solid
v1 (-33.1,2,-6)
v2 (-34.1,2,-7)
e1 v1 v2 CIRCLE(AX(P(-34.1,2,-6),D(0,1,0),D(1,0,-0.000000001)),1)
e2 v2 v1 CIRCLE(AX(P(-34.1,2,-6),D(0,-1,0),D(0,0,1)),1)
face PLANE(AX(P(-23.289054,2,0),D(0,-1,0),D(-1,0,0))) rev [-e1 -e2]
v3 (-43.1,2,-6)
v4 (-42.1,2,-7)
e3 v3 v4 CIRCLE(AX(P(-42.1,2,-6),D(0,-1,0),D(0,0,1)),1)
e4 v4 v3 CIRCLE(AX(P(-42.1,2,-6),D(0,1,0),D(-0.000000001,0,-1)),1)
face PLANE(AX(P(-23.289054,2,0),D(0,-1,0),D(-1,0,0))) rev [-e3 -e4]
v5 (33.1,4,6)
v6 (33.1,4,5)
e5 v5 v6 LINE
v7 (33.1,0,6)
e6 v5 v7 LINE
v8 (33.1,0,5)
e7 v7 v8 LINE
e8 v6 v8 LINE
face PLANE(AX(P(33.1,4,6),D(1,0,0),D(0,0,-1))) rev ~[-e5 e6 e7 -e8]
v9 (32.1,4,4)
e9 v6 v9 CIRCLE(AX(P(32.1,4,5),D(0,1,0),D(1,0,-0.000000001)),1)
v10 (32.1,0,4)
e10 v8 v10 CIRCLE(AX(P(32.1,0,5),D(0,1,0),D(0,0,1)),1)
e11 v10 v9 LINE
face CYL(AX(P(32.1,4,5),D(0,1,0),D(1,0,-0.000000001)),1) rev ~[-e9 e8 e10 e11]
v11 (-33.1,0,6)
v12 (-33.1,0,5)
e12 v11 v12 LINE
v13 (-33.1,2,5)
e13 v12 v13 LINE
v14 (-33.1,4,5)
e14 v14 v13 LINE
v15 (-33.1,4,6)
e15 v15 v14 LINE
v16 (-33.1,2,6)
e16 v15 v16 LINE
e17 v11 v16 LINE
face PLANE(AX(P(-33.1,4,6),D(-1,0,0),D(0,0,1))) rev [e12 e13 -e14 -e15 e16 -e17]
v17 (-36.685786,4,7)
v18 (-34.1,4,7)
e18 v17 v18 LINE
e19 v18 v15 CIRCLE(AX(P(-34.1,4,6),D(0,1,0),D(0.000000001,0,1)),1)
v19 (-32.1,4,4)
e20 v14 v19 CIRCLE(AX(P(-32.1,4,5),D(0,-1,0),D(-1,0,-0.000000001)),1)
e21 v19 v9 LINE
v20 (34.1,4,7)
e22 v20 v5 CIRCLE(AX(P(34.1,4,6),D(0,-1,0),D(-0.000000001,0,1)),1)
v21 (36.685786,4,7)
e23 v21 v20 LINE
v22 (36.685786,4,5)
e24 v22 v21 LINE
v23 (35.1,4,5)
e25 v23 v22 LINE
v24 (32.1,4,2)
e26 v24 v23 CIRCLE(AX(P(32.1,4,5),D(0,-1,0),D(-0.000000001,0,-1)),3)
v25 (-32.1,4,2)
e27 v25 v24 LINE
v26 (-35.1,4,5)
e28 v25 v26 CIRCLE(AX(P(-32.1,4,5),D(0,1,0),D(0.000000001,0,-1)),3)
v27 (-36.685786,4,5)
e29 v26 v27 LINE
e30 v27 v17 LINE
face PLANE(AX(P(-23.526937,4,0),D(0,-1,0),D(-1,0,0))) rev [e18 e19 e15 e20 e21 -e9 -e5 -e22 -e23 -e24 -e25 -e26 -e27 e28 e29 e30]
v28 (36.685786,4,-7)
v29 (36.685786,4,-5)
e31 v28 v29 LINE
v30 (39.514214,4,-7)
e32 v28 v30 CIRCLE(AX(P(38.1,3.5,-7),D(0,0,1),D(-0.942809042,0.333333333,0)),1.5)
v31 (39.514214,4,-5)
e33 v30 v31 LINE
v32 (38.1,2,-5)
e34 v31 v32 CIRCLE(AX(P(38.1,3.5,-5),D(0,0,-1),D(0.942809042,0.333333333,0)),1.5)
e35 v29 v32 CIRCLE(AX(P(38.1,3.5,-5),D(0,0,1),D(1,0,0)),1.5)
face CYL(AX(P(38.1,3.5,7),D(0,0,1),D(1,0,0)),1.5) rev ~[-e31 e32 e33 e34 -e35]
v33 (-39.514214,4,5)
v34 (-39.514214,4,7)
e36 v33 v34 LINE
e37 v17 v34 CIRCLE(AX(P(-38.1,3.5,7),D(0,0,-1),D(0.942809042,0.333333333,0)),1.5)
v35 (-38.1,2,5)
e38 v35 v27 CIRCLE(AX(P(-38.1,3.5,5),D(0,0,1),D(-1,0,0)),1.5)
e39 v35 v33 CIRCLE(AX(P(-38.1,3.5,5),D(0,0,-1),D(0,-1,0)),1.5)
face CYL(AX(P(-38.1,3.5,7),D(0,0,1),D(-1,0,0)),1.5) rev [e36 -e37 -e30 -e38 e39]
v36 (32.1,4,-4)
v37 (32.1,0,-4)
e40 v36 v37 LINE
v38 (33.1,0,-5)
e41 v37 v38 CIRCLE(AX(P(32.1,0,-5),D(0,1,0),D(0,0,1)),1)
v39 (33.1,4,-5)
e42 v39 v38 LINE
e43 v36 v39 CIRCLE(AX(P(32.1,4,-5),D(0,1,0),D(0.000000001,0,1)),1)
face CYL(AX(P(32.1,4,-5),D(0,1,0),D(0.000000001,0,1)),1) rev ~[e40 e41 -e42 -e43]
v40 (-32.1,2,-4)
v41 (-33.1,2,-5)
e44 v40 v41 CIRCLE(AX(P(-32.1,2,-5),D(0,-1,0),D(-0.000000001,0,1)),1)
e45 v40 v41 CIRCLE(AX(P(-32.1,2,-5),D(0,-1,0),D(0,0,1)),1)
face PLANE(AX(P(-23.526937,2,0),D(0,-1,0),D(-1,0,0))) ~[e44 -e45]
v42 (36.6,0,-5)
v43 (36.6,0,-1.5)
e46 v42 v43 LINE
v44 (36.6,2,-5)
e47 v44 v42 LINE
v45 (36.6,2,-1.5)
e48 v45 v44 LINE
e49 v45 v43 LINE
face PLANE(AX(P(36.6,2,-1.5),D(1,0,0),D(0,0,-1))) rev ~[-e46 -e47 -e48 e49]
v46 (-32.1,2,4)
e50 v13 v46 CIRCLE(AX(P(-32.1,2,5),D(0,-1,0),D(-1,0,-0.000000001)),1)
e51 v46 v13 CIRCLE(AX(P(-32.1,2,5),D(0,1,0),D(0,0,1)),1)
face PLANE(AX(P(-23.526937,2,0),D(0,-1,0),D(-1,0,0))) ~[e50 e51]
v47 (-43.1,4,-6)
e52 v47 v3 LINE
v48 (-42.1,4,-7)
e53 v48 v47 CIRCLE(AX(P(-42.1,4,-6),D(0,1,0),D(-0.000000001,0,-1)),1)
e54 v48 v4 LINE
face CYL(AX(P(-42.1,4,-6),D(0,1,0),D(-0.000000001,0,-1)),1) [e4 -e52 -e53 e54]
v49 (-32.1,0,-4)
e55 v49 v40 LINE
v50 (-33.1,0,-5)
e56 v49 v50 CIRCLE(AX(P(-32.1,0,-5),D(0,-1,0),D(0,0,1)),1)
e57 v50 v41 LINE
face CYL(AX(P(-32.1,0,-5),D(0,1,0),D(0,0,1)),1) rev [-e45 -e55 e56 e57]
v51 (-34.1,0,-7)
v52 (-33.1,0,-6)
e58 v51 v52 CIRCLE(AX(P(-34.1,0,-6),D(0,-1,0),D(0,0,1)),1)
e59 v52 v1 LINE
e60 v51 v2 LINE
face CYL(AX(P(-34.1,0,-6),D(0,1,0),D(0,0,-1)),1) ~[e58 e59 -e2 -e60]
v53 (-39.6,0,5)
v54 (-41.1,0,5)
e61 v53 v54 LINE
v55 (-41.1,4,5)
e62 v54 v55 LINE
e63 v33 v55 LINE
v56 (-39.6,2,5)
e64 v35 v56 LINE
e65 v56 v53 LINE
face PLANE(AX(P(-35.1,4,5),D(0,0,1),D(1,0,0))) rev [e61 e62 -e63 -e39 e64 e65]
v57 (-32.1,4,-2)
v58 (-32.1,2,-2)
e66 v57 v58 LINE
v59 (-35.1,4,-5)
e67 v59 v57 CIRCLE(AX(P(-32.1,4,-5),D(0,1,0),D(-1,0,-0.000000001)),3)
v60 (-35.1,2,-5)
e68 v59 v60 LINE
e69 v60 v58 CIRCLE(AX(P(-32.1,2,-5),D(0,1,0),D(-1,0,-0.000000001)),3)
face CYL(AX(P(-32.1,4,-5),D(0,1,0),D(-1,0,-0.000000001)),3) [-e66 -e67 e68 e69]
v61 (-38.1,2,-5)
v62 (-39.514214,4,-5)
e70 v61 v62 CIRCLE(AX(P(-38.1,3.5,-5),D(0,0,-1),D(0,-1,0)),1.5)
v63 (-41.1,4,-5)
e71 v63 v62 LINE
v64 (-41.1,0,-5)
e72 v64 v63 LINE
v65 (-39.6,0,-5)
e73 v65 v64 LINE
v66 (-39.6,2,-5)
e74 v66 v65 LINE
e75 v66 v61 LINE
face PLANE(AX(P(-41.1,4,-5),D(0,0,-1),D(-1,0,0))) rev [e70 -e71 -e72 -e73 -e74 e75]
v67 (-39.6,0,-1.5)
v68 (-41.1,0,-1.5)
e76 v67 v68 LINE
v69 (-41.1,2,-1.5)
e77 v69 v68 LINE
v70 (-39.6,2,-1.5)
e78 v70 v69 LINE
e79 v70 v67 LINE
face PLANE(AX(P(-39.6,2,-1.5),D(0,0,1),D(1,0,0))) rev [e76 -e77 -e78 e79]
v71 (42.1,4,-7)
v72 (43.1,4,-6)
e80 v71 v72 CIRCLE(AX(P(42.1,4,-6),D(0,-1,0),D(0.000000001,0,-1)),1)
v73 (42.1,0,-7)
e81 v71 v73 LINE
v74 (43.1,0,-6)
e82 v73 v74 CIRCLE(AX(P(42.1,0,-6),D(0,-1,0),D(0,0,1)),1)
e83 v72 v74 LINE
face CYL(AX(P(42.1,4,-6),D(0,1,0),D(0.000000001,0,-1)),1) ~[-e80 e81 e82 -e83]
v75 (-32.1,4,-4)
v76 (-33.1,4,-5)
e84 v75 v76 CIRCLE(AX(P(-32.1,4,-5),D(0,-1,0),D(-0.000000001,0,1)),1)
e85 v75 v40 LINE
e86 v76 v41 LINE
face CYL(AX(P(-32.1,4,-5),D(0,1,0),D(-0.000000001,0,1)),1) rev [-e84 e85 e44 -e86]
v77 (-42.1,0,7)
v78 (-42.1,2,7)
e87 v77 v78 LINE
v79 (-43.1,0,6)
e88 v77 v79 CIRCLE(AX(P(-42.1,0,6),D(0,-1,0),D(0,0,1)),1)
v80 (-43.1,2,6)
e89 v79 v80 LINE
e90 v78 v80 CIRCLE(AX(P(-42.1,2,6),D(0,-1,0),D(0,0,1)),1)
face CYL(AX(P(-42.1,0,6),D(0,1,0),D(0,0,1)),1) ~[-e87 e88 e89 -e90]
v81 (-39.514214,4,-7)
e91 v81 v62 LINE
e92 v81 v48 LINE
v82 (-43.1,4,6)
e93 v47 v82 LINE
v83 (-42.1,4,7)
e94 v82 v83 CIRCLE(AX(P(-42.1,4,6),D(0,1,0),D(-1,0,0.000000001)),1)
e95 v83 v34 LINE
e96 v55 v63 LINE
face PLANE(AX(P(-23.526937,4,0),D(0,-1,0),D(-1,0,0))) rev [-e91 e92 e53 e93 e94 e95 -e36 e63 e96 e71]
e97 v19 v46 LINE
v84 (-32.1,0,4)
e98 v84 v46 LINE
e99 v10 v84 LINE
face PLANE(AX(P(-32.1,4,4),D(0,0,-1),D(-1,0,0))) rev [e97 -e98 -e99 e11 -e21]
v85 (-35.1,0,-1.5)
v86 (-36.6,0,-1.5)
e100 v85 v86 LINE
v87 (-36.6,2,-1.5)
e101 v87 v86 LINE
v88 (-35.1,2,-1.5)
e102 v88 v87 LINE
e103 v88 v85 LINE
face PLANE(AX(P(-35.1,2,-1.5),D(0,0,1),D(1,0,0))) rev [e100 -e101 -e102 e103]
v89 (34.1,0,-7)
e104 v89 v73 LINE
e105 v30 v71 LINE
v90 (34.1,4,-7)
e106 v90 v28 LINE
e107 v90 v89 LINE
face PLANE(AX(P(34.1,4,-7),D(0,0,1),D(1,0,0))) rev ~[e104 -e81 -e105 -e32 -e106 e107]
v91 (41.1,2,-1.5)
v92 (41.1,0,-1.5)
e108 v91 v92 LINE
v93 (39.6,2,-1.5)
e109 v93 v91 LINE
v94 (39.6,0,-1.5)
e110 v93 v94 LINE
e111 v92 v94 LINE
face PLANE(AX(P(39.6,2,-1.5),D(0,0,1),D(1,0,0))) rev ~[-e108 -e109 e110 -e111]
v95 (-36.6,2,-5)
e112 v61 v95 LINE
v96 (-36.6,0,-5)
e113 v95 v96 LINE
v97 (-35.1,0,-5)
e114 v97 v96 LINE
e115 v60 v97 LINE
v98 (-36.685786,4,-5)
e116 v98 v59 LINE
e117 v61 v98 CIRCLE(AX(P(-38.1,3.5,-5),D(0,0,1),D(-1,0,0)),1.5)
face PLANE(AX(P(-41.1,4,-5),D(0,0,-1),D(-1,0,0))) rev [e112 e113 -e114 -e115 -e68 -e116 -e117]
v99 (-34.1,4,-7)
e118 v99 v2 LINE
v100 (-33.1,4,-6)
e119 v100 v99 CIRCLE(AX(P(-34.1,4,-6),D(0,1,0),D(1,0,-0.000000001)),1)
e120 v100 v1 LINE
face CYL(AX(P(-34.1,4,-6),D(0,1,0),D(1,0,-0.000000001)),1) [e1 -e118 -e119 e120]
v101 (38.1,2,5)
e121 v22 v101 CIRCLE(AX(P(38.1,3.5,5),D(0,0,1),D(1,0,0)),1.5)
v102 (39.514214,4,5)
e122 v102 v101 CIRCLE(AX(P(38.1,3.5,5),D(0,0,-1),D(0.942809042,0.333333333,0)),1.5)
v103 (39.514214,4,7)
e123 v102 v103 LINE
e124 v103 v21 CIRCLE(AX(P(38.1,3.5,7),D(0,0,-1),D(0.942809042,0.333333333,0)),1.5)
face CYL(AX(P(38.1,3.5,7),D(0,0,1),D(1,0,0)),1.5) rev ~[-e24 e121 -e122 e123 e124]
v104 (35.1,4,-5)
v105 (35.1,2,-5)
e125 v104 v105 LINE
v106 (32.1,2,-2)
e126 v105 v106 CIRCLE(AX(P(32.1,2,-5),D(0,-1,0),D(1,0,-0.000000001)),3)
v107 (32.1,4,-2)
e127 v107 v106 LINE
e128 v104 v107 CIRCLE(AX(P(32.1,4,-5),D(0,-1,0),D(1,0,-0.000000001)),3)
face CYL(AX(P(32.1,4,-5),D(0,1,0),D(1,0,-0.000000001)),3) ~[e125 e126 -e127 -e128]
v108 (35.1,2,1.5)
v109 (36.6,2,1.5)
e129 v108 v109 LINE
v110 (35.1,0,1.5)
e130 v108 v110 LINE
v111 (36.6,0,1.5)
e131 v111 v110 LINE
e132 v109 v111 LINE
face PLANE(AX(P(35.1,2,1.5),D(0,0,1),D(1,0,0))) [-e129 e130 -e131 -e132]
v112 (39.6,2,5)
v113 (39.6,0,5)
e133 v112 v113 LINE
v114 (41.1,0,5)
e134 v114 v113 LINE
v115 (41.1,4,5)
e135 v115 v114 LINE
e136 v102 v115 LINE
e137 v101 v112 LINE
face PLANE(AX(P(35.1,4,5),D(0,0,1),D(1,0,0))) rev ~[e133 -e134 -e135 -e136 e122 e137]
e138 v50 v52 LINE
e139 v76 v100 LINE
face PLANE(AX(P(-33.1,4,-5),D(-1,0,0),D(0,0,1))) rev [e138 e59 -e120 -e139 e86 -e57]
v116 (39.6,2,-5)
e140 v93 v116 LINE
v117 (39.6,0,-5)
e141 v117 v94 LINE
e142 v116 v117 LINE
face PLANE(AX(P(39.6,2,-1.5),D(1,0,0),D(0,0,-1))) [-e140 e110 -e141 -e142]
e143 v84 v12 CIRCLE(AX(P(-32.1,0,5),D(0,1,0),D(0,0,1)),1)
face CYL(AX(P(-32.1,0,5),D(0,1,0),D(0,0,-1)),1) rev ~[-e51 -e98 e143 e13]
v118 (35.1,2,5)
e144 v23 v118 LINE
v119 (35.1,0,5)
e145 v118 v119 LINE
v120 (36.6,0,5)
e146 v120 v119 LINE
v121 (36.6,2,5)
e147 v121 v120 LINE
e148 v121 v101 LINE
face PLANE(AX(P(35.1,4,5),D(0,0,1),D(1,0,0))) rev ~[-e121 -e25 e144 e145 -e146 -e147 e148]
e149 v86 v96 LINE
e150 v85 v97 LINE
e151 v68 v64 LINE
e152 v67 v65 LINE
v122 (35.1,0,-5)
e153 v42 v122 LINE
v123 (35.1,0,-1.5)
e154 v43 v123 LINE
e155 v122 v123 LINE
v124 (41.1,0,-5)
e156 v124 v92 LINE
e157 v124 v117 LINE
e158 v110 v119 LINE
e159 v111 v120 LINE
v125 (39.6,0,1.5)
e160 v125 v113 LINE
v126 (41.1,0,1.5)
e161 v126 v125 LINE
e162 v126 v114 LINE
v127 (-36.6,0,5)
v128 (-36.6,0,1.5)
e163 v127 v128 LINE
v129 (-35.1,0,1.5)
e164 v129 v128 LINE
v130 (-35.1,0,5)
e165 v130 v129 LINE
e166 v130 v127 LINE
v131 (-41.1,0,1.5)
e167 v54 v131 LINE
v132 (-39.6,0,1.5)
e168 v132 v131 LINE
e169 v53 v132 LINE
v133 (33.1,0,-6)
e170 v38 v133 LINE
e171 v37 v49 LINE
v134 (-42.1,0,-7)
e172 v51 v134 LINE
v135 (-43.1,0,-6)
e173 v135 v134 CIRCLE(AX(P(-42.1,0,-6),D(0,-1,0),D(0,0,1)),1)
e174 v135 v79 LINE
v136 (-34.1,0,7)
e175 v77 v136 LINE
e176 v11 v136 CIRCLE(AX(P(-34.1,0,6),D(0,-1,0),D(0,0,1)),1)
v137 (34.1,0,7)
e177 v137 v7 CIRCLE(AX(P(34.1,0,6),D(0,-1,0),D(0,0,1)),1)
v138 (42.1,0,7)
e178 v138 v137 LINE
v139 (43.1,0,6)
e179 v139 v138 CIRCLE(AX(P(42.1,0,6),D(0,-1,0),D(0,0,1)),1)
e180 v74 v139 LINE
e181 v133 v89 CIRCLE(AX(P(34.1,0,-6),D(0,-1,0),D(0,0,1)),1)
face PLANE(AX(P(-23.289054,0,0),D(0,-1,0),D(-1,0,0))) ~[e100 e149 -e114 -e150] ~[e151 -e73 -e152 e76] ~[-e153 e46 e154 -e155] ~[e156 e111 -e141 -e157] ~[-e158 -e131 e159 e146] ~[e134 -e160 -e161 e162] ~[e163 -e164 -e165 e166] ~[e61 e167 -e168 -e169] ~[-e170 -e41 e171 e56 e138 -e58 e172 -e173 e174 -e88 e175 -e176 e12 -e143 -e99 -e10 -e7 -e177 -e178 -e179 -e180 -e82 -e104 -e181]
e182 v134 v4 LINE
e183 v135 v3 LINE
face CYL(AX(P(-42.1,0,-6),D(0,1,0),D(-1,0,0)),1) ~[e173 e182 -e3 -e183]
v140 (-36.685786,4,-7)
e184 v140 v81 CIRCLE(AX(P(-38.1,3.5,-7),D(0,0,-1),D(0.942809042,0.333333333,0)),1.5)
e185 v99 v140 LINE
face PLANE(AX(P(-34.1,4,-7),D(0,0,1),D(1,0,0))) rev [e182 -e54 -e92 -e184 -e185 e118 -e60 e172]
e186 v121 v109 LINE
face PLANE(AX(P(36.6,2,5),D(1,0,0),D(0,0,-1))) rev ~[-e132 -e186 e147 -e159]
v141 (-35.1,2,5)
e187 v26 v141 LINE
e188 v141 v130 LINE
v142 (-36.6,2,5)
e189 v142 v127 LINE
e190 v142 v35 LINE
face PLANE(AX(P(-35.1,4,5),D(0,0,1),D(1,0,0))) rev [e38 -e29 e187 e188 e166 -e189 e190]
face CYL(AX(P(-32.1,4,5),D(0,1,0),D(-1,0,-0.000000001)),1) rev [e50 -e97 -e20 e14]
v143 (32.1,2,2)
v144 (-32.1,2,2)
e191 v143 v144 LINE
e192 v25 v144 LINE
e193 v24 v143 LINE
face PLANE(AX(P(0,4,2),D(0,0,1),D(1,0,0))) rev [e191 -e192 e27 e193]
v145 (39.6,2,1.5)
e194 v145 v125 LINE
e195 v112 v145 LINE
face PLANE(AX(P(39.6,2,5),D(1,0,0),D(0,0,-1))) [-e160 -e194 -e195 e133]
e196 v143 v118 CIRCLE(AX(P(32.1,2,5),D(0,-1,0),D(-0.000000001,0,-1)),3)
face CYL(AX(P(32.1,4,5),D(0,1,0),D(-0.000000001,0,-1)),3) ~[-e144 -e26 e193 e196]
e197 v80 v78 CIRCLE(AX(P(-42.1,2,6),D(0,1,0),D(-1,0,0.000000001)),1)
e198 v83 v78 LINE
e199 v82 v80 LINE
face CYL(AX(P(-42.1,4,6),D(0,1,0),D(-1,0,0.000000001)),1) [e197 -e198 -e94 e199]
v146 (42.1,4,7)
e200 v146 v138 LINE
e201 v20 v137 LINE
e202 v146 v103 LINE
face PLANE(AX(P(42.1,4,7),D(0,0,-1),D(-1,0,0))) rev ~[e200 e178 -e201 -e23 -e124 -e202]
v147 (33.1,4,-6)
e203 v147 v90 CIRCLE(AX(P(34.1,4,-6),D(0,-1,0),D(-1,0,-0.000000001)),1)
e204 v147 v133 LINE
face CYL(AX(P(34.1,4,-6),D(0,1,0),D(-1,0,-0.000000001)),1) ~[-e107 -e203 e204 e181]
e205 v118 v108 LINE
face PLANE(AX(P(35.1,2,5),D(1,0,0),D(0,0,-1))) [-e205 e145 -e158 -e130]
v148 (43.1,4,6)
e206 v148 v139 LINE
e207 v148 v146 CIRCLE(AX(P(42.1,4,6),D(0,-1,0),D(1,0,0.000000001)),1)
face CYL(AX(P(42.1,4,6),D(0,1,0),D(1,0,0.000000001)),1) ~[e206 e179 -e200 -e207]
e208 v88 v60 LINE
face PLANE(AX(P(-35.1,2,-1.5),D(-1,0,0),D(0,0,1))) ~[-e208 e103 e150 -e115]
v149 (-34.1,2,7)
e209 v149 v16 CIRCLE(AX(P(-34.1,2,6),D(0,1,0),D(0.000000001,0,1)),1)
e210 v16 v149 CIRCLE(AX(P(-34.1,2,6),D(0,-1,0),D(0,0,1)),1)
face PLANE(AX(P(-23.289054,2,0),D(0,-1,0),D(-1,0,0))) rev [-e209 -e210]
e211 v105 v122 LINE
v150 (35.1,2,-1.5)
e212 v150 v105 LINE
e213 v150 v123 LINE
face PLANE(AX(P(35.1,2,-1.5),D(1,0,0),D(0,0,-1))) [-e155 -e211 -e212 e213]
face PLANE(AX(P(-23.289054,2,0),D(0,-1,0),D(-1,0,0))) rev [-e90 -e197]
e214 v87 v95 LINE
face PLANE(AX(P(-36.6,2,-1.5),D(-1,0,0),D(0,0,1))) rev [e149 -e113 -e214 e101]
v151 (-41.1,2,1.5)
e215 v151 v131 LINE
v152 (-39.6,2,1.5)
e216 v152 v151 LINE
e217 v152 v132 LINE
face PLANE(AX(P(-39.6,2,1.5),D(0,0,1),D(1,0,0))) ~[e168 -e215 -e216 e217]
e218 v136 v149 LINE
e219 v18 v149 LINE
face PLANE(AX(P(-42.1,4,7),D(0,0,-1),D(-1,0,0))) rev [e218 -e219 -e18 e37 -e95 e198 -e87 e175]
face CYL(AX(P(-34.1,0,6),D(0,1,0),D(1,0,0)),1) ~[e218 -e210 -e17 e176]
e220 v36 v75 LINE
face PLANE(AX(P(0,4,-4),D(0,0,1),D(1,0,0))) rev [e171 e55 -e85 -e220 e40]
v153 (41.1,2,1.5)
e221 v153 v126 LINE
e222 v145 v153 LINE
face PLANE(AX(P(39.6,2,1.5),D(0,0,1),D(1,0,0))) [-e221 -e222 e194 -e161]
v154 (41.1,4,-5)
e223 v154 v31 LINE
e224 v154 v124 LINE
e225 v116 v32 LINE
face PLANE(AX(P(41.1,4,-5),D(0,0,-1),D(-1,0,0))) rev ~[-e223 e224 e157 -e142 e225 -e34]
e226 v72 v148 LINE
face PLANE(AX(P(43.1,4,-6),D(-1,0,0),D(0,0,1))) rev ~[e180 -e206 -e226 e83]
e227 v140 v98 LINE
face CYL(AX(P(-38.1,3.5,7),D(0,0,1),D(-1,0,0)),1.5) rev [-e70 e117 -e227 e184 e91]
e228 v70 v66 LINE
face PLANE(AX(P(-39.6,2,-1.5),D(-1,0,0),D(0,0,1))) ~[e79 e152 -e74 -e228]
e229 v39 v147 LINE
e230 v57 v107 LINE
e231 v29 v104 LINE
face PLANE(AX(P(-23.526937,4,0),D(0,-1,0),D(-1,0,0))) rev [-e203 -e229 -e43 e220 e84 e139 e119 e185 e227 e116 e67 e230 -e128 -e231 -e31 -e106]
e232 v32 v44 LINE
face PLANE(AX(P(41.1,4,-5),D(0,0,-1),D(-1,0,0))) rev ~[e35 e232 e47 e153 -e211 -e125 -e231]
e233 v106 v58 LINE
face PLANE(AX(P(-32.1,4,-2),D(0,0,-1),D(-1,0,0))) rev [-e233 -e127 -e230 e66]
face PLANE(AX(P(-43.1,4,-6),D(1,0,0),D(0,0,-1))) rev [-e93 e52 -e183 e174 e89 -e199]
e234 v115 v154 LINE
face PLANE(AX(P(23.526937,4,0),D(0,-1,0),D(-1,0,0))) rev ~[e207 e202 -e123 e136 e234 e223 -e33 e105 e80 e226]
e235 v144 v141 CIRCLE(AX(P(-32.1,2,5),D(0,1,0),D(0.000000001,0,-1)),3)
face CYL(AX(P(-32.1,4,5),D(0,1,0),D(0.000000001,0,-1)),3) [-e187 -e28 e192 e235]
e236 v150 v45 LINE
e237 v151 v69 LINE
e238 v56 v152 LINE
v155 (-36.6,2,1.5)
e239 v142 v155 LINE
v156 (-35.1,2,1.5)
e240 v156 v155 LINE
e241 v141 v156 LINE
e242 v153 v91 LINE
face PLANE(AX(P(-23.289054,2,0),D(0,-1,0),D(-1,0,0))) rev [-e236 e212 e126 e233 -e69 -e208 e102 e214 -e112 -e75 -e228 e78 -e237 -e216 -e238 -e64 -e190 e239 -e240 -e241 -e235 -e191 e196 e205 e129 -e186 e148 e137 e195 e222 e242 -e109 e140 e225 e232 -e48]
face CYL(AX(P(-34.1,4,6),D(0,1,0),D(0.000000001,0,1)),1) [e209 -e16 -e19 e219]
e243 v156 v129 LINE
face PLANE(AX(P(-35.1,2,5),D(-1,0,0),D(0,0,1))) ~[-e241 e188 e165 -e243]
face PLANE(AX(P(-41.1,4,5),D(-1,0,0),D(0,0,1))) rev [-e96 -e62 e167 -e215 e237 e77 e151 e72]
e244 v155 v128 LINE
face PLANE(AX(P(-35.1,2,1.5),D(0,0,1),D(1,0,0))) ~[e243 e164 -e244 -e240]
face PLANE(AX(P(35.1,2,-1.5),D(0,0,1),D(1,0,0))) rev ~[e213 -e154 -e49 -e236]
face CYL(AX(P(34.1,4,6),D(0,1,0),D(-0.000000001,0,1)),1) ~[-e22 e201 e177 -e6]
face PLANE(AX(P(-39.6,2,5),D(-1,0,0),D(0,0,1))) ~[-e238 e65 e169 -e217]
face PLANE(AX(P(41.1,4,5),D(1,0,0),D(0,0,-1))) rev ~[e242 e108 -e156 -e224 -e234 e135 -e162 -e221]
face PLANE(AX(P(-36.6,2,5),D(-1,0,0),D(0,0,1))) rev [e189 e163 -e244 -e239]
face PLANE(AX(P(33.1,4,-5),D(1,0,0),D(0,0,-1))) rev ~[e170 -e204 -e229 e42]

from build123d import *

# Parameters (mm, degrees)
BOSS_EXTRUDE1_DEPTH  = 2
FILLET1_R            = 1
SKETCH2_W            = 1.5
SKETCH2_H            = 3.5
CUT_EXTRUDE1_DEPTH   = 44.710525048
BOSS_EXTRUDE2_START  = 2
BOSS_EXTRUDE2_DEPTH  = 2
SKETCH6_R            = 1.5
CUT_EXTRUDE2_DEPTH   = 14
FILLET1_OF_MIRROR1_R = 1


with BuildPart() as part:
    # Sketch1 → Boss-Extrude1 (new body)
    with BuildSketch(Plane(origin=(0, 0, 0), x_dir=(1, 0, 0), z_dir=(0, 1, 0))):
        Polygon((0, -4), (0, 4), (33.1, 4), (33.1, 7), (43.1, 7), (43.1, -7), (33.1, -7), (33.1, -4), align=None)
    boss_extrude1 = extrude(amount=BOSS_EXTRUDE1_DEPTH)

    # Fillet1
    fillet1_edges = [part.edges().sort_by_distance(p)[0] for p in [
        (33.1, 1, -4),
        (33.1, 1, -7),
        (43.1, 1, -7),
        (43.1, 1, 7),
        (33.1, 1, 7),
        (33.1, 1, 4),
    ]]
    fillet(fillet1_edges, radius=FILLET1_R)

    # Sketch2 → Cut-Extrude1 (cut, through all)
    with BuildSketch(Plane(origin=(0, 2, 0), x_dir=(1, 0, 0), z_dir=(0, 1, 0))):
        with Locations((35.85, -3.25)):
            Rectangle(SKETCH2_W, SKETCH2_H)
        with Locations((40.35, 3.25)):
            Rectangle(SKETCH2_W, SKETCH2_H)
        with Locations((40.35, -3.25)):
            Rectangle(SKETCH2_W, SKETCH2_H)
        with Locations((35.85, 3.25)):
            Rectangle(SKETCH2_W, SKETCH2_H)
    cut_extrude1 = extrude(amount=-CUT_EXTRUDE1_DEPTH, mode=Mode.SUBTRACT)

    # Sketch5 → Boss-Extrude2 (add)
    with BuildSketch(Plane(origin=(0, 2, 0), x_dir=(1, 0, 0), z_dir=(0, 1, 0)).offset(BOSS_EXTRUDE2_START)):
        with BuildLine():
            Line((0, -2), (32.1, -2))
            ThreePointArc((32.1, -2), (34.221320344, -2.878679656), (35.1, -5))
            Line((35.1, -5), (41.1, -5))
            Line((41.1, -5), (41.1, 5))
            Line((41.1, 5), (35.1, 5))
            ThreePointArc((35.1, 5), (34.221320344, 2.878679656), (32.1, 2))
            Line((32.1, 2), (0, 2))
            Line((0, 2), (0, 4))
            Line((0, 4), (32.1, 4))
            ThreePointArc((32.1, 4), (32.807106781, 4.292893219), (33.1, 5))
            Line((33.1, 5), (33.1, 6))
            ThreePointArc((33.1, 6), (33.392893219, 6.707106781), (34.1, 7))
            Line((34.1, 7), (42.1, 7))
            ThreePointArc((42.1, 7), (42.807106781, 6.707106781), (43.1, 6))
            Line((43.1, 6), (43.1, -6))
            ThreePointArc((43.1, -6), (42.807106781, -6.707106781), (42.1, -7))
            Line((42.1, -7), (34.1, -7))
            ThreePointArc((34.1, -7), (33.392893219, -6.707106781), (33.1, -6))
            Line((33.1, -6), (33.1, -5))
            ThreePointArc((33.1, -5), (32.807106781, -4.292893219), (32.1, -4))
            Line((32.1, -4), (0, -4))
            Line((0, -4), (0, -2))
        make_face()
    boss_extrude2 = extrude(amount=-BOSS_EXTRUDE2_DEPTH)

    # Sketch6 → Cut-Extrude2 (cut)
    with BuildSketch(Plane.XY.offset(7)):
        with Locations((38.1, 3.5)):
            Circle(SKETCH6_R)
    cut_extrude2 = extrude(amount=-CUT_EXTRUDE2_DEPTH, mode=Mode.SUBTRACT)

    # Mirror1: Boss-Extrude1, Cut-Extrude1, Boss-Extrude2, Cut-Extrude2 across plane
    add(boss_extrude1.mirror(Plane(origin=(0, 0, 0), x_dir=(0, 0, 1), z_dir=(1, 0, 0))))
    add(cut_extrude1.mirror(Plane(origin=(0, 0, 0), x_dir=(0, 0, 1), z_dir=(1, 0, 0))), mode=Mode.SUBTRACT)
    add(boss_extrude2.mirror(Plane(origin=(0, 0, 0), x_dir=(0, 0, 1), z_dir=(1, 0, 0))))
    add(cut_extrude2.mirror(Plane(origin=(0, 0, 0), x_dir=(0, 0, 1), z_dir=(1, 0, 0))), mode=Mode.SUBTRACT)

    # Fillet1 of Mirror1
    fillet1_of_mirror1_edges = [part.edges().sort_by_distance(p)[0] for p in [
        (-33.1, 1, -4),
        (-33.1, 1, -7),
        (-43.1, 1, -7),
        (-43.1, 1, 7),
        (-33.1, 1, 7),
        (-33.1, 1, 4),
    ]]
    fillet(fillet1_of_mirror1_edges, radius=FILLET1_OF_MIRROR1_R)


solid = part.part
